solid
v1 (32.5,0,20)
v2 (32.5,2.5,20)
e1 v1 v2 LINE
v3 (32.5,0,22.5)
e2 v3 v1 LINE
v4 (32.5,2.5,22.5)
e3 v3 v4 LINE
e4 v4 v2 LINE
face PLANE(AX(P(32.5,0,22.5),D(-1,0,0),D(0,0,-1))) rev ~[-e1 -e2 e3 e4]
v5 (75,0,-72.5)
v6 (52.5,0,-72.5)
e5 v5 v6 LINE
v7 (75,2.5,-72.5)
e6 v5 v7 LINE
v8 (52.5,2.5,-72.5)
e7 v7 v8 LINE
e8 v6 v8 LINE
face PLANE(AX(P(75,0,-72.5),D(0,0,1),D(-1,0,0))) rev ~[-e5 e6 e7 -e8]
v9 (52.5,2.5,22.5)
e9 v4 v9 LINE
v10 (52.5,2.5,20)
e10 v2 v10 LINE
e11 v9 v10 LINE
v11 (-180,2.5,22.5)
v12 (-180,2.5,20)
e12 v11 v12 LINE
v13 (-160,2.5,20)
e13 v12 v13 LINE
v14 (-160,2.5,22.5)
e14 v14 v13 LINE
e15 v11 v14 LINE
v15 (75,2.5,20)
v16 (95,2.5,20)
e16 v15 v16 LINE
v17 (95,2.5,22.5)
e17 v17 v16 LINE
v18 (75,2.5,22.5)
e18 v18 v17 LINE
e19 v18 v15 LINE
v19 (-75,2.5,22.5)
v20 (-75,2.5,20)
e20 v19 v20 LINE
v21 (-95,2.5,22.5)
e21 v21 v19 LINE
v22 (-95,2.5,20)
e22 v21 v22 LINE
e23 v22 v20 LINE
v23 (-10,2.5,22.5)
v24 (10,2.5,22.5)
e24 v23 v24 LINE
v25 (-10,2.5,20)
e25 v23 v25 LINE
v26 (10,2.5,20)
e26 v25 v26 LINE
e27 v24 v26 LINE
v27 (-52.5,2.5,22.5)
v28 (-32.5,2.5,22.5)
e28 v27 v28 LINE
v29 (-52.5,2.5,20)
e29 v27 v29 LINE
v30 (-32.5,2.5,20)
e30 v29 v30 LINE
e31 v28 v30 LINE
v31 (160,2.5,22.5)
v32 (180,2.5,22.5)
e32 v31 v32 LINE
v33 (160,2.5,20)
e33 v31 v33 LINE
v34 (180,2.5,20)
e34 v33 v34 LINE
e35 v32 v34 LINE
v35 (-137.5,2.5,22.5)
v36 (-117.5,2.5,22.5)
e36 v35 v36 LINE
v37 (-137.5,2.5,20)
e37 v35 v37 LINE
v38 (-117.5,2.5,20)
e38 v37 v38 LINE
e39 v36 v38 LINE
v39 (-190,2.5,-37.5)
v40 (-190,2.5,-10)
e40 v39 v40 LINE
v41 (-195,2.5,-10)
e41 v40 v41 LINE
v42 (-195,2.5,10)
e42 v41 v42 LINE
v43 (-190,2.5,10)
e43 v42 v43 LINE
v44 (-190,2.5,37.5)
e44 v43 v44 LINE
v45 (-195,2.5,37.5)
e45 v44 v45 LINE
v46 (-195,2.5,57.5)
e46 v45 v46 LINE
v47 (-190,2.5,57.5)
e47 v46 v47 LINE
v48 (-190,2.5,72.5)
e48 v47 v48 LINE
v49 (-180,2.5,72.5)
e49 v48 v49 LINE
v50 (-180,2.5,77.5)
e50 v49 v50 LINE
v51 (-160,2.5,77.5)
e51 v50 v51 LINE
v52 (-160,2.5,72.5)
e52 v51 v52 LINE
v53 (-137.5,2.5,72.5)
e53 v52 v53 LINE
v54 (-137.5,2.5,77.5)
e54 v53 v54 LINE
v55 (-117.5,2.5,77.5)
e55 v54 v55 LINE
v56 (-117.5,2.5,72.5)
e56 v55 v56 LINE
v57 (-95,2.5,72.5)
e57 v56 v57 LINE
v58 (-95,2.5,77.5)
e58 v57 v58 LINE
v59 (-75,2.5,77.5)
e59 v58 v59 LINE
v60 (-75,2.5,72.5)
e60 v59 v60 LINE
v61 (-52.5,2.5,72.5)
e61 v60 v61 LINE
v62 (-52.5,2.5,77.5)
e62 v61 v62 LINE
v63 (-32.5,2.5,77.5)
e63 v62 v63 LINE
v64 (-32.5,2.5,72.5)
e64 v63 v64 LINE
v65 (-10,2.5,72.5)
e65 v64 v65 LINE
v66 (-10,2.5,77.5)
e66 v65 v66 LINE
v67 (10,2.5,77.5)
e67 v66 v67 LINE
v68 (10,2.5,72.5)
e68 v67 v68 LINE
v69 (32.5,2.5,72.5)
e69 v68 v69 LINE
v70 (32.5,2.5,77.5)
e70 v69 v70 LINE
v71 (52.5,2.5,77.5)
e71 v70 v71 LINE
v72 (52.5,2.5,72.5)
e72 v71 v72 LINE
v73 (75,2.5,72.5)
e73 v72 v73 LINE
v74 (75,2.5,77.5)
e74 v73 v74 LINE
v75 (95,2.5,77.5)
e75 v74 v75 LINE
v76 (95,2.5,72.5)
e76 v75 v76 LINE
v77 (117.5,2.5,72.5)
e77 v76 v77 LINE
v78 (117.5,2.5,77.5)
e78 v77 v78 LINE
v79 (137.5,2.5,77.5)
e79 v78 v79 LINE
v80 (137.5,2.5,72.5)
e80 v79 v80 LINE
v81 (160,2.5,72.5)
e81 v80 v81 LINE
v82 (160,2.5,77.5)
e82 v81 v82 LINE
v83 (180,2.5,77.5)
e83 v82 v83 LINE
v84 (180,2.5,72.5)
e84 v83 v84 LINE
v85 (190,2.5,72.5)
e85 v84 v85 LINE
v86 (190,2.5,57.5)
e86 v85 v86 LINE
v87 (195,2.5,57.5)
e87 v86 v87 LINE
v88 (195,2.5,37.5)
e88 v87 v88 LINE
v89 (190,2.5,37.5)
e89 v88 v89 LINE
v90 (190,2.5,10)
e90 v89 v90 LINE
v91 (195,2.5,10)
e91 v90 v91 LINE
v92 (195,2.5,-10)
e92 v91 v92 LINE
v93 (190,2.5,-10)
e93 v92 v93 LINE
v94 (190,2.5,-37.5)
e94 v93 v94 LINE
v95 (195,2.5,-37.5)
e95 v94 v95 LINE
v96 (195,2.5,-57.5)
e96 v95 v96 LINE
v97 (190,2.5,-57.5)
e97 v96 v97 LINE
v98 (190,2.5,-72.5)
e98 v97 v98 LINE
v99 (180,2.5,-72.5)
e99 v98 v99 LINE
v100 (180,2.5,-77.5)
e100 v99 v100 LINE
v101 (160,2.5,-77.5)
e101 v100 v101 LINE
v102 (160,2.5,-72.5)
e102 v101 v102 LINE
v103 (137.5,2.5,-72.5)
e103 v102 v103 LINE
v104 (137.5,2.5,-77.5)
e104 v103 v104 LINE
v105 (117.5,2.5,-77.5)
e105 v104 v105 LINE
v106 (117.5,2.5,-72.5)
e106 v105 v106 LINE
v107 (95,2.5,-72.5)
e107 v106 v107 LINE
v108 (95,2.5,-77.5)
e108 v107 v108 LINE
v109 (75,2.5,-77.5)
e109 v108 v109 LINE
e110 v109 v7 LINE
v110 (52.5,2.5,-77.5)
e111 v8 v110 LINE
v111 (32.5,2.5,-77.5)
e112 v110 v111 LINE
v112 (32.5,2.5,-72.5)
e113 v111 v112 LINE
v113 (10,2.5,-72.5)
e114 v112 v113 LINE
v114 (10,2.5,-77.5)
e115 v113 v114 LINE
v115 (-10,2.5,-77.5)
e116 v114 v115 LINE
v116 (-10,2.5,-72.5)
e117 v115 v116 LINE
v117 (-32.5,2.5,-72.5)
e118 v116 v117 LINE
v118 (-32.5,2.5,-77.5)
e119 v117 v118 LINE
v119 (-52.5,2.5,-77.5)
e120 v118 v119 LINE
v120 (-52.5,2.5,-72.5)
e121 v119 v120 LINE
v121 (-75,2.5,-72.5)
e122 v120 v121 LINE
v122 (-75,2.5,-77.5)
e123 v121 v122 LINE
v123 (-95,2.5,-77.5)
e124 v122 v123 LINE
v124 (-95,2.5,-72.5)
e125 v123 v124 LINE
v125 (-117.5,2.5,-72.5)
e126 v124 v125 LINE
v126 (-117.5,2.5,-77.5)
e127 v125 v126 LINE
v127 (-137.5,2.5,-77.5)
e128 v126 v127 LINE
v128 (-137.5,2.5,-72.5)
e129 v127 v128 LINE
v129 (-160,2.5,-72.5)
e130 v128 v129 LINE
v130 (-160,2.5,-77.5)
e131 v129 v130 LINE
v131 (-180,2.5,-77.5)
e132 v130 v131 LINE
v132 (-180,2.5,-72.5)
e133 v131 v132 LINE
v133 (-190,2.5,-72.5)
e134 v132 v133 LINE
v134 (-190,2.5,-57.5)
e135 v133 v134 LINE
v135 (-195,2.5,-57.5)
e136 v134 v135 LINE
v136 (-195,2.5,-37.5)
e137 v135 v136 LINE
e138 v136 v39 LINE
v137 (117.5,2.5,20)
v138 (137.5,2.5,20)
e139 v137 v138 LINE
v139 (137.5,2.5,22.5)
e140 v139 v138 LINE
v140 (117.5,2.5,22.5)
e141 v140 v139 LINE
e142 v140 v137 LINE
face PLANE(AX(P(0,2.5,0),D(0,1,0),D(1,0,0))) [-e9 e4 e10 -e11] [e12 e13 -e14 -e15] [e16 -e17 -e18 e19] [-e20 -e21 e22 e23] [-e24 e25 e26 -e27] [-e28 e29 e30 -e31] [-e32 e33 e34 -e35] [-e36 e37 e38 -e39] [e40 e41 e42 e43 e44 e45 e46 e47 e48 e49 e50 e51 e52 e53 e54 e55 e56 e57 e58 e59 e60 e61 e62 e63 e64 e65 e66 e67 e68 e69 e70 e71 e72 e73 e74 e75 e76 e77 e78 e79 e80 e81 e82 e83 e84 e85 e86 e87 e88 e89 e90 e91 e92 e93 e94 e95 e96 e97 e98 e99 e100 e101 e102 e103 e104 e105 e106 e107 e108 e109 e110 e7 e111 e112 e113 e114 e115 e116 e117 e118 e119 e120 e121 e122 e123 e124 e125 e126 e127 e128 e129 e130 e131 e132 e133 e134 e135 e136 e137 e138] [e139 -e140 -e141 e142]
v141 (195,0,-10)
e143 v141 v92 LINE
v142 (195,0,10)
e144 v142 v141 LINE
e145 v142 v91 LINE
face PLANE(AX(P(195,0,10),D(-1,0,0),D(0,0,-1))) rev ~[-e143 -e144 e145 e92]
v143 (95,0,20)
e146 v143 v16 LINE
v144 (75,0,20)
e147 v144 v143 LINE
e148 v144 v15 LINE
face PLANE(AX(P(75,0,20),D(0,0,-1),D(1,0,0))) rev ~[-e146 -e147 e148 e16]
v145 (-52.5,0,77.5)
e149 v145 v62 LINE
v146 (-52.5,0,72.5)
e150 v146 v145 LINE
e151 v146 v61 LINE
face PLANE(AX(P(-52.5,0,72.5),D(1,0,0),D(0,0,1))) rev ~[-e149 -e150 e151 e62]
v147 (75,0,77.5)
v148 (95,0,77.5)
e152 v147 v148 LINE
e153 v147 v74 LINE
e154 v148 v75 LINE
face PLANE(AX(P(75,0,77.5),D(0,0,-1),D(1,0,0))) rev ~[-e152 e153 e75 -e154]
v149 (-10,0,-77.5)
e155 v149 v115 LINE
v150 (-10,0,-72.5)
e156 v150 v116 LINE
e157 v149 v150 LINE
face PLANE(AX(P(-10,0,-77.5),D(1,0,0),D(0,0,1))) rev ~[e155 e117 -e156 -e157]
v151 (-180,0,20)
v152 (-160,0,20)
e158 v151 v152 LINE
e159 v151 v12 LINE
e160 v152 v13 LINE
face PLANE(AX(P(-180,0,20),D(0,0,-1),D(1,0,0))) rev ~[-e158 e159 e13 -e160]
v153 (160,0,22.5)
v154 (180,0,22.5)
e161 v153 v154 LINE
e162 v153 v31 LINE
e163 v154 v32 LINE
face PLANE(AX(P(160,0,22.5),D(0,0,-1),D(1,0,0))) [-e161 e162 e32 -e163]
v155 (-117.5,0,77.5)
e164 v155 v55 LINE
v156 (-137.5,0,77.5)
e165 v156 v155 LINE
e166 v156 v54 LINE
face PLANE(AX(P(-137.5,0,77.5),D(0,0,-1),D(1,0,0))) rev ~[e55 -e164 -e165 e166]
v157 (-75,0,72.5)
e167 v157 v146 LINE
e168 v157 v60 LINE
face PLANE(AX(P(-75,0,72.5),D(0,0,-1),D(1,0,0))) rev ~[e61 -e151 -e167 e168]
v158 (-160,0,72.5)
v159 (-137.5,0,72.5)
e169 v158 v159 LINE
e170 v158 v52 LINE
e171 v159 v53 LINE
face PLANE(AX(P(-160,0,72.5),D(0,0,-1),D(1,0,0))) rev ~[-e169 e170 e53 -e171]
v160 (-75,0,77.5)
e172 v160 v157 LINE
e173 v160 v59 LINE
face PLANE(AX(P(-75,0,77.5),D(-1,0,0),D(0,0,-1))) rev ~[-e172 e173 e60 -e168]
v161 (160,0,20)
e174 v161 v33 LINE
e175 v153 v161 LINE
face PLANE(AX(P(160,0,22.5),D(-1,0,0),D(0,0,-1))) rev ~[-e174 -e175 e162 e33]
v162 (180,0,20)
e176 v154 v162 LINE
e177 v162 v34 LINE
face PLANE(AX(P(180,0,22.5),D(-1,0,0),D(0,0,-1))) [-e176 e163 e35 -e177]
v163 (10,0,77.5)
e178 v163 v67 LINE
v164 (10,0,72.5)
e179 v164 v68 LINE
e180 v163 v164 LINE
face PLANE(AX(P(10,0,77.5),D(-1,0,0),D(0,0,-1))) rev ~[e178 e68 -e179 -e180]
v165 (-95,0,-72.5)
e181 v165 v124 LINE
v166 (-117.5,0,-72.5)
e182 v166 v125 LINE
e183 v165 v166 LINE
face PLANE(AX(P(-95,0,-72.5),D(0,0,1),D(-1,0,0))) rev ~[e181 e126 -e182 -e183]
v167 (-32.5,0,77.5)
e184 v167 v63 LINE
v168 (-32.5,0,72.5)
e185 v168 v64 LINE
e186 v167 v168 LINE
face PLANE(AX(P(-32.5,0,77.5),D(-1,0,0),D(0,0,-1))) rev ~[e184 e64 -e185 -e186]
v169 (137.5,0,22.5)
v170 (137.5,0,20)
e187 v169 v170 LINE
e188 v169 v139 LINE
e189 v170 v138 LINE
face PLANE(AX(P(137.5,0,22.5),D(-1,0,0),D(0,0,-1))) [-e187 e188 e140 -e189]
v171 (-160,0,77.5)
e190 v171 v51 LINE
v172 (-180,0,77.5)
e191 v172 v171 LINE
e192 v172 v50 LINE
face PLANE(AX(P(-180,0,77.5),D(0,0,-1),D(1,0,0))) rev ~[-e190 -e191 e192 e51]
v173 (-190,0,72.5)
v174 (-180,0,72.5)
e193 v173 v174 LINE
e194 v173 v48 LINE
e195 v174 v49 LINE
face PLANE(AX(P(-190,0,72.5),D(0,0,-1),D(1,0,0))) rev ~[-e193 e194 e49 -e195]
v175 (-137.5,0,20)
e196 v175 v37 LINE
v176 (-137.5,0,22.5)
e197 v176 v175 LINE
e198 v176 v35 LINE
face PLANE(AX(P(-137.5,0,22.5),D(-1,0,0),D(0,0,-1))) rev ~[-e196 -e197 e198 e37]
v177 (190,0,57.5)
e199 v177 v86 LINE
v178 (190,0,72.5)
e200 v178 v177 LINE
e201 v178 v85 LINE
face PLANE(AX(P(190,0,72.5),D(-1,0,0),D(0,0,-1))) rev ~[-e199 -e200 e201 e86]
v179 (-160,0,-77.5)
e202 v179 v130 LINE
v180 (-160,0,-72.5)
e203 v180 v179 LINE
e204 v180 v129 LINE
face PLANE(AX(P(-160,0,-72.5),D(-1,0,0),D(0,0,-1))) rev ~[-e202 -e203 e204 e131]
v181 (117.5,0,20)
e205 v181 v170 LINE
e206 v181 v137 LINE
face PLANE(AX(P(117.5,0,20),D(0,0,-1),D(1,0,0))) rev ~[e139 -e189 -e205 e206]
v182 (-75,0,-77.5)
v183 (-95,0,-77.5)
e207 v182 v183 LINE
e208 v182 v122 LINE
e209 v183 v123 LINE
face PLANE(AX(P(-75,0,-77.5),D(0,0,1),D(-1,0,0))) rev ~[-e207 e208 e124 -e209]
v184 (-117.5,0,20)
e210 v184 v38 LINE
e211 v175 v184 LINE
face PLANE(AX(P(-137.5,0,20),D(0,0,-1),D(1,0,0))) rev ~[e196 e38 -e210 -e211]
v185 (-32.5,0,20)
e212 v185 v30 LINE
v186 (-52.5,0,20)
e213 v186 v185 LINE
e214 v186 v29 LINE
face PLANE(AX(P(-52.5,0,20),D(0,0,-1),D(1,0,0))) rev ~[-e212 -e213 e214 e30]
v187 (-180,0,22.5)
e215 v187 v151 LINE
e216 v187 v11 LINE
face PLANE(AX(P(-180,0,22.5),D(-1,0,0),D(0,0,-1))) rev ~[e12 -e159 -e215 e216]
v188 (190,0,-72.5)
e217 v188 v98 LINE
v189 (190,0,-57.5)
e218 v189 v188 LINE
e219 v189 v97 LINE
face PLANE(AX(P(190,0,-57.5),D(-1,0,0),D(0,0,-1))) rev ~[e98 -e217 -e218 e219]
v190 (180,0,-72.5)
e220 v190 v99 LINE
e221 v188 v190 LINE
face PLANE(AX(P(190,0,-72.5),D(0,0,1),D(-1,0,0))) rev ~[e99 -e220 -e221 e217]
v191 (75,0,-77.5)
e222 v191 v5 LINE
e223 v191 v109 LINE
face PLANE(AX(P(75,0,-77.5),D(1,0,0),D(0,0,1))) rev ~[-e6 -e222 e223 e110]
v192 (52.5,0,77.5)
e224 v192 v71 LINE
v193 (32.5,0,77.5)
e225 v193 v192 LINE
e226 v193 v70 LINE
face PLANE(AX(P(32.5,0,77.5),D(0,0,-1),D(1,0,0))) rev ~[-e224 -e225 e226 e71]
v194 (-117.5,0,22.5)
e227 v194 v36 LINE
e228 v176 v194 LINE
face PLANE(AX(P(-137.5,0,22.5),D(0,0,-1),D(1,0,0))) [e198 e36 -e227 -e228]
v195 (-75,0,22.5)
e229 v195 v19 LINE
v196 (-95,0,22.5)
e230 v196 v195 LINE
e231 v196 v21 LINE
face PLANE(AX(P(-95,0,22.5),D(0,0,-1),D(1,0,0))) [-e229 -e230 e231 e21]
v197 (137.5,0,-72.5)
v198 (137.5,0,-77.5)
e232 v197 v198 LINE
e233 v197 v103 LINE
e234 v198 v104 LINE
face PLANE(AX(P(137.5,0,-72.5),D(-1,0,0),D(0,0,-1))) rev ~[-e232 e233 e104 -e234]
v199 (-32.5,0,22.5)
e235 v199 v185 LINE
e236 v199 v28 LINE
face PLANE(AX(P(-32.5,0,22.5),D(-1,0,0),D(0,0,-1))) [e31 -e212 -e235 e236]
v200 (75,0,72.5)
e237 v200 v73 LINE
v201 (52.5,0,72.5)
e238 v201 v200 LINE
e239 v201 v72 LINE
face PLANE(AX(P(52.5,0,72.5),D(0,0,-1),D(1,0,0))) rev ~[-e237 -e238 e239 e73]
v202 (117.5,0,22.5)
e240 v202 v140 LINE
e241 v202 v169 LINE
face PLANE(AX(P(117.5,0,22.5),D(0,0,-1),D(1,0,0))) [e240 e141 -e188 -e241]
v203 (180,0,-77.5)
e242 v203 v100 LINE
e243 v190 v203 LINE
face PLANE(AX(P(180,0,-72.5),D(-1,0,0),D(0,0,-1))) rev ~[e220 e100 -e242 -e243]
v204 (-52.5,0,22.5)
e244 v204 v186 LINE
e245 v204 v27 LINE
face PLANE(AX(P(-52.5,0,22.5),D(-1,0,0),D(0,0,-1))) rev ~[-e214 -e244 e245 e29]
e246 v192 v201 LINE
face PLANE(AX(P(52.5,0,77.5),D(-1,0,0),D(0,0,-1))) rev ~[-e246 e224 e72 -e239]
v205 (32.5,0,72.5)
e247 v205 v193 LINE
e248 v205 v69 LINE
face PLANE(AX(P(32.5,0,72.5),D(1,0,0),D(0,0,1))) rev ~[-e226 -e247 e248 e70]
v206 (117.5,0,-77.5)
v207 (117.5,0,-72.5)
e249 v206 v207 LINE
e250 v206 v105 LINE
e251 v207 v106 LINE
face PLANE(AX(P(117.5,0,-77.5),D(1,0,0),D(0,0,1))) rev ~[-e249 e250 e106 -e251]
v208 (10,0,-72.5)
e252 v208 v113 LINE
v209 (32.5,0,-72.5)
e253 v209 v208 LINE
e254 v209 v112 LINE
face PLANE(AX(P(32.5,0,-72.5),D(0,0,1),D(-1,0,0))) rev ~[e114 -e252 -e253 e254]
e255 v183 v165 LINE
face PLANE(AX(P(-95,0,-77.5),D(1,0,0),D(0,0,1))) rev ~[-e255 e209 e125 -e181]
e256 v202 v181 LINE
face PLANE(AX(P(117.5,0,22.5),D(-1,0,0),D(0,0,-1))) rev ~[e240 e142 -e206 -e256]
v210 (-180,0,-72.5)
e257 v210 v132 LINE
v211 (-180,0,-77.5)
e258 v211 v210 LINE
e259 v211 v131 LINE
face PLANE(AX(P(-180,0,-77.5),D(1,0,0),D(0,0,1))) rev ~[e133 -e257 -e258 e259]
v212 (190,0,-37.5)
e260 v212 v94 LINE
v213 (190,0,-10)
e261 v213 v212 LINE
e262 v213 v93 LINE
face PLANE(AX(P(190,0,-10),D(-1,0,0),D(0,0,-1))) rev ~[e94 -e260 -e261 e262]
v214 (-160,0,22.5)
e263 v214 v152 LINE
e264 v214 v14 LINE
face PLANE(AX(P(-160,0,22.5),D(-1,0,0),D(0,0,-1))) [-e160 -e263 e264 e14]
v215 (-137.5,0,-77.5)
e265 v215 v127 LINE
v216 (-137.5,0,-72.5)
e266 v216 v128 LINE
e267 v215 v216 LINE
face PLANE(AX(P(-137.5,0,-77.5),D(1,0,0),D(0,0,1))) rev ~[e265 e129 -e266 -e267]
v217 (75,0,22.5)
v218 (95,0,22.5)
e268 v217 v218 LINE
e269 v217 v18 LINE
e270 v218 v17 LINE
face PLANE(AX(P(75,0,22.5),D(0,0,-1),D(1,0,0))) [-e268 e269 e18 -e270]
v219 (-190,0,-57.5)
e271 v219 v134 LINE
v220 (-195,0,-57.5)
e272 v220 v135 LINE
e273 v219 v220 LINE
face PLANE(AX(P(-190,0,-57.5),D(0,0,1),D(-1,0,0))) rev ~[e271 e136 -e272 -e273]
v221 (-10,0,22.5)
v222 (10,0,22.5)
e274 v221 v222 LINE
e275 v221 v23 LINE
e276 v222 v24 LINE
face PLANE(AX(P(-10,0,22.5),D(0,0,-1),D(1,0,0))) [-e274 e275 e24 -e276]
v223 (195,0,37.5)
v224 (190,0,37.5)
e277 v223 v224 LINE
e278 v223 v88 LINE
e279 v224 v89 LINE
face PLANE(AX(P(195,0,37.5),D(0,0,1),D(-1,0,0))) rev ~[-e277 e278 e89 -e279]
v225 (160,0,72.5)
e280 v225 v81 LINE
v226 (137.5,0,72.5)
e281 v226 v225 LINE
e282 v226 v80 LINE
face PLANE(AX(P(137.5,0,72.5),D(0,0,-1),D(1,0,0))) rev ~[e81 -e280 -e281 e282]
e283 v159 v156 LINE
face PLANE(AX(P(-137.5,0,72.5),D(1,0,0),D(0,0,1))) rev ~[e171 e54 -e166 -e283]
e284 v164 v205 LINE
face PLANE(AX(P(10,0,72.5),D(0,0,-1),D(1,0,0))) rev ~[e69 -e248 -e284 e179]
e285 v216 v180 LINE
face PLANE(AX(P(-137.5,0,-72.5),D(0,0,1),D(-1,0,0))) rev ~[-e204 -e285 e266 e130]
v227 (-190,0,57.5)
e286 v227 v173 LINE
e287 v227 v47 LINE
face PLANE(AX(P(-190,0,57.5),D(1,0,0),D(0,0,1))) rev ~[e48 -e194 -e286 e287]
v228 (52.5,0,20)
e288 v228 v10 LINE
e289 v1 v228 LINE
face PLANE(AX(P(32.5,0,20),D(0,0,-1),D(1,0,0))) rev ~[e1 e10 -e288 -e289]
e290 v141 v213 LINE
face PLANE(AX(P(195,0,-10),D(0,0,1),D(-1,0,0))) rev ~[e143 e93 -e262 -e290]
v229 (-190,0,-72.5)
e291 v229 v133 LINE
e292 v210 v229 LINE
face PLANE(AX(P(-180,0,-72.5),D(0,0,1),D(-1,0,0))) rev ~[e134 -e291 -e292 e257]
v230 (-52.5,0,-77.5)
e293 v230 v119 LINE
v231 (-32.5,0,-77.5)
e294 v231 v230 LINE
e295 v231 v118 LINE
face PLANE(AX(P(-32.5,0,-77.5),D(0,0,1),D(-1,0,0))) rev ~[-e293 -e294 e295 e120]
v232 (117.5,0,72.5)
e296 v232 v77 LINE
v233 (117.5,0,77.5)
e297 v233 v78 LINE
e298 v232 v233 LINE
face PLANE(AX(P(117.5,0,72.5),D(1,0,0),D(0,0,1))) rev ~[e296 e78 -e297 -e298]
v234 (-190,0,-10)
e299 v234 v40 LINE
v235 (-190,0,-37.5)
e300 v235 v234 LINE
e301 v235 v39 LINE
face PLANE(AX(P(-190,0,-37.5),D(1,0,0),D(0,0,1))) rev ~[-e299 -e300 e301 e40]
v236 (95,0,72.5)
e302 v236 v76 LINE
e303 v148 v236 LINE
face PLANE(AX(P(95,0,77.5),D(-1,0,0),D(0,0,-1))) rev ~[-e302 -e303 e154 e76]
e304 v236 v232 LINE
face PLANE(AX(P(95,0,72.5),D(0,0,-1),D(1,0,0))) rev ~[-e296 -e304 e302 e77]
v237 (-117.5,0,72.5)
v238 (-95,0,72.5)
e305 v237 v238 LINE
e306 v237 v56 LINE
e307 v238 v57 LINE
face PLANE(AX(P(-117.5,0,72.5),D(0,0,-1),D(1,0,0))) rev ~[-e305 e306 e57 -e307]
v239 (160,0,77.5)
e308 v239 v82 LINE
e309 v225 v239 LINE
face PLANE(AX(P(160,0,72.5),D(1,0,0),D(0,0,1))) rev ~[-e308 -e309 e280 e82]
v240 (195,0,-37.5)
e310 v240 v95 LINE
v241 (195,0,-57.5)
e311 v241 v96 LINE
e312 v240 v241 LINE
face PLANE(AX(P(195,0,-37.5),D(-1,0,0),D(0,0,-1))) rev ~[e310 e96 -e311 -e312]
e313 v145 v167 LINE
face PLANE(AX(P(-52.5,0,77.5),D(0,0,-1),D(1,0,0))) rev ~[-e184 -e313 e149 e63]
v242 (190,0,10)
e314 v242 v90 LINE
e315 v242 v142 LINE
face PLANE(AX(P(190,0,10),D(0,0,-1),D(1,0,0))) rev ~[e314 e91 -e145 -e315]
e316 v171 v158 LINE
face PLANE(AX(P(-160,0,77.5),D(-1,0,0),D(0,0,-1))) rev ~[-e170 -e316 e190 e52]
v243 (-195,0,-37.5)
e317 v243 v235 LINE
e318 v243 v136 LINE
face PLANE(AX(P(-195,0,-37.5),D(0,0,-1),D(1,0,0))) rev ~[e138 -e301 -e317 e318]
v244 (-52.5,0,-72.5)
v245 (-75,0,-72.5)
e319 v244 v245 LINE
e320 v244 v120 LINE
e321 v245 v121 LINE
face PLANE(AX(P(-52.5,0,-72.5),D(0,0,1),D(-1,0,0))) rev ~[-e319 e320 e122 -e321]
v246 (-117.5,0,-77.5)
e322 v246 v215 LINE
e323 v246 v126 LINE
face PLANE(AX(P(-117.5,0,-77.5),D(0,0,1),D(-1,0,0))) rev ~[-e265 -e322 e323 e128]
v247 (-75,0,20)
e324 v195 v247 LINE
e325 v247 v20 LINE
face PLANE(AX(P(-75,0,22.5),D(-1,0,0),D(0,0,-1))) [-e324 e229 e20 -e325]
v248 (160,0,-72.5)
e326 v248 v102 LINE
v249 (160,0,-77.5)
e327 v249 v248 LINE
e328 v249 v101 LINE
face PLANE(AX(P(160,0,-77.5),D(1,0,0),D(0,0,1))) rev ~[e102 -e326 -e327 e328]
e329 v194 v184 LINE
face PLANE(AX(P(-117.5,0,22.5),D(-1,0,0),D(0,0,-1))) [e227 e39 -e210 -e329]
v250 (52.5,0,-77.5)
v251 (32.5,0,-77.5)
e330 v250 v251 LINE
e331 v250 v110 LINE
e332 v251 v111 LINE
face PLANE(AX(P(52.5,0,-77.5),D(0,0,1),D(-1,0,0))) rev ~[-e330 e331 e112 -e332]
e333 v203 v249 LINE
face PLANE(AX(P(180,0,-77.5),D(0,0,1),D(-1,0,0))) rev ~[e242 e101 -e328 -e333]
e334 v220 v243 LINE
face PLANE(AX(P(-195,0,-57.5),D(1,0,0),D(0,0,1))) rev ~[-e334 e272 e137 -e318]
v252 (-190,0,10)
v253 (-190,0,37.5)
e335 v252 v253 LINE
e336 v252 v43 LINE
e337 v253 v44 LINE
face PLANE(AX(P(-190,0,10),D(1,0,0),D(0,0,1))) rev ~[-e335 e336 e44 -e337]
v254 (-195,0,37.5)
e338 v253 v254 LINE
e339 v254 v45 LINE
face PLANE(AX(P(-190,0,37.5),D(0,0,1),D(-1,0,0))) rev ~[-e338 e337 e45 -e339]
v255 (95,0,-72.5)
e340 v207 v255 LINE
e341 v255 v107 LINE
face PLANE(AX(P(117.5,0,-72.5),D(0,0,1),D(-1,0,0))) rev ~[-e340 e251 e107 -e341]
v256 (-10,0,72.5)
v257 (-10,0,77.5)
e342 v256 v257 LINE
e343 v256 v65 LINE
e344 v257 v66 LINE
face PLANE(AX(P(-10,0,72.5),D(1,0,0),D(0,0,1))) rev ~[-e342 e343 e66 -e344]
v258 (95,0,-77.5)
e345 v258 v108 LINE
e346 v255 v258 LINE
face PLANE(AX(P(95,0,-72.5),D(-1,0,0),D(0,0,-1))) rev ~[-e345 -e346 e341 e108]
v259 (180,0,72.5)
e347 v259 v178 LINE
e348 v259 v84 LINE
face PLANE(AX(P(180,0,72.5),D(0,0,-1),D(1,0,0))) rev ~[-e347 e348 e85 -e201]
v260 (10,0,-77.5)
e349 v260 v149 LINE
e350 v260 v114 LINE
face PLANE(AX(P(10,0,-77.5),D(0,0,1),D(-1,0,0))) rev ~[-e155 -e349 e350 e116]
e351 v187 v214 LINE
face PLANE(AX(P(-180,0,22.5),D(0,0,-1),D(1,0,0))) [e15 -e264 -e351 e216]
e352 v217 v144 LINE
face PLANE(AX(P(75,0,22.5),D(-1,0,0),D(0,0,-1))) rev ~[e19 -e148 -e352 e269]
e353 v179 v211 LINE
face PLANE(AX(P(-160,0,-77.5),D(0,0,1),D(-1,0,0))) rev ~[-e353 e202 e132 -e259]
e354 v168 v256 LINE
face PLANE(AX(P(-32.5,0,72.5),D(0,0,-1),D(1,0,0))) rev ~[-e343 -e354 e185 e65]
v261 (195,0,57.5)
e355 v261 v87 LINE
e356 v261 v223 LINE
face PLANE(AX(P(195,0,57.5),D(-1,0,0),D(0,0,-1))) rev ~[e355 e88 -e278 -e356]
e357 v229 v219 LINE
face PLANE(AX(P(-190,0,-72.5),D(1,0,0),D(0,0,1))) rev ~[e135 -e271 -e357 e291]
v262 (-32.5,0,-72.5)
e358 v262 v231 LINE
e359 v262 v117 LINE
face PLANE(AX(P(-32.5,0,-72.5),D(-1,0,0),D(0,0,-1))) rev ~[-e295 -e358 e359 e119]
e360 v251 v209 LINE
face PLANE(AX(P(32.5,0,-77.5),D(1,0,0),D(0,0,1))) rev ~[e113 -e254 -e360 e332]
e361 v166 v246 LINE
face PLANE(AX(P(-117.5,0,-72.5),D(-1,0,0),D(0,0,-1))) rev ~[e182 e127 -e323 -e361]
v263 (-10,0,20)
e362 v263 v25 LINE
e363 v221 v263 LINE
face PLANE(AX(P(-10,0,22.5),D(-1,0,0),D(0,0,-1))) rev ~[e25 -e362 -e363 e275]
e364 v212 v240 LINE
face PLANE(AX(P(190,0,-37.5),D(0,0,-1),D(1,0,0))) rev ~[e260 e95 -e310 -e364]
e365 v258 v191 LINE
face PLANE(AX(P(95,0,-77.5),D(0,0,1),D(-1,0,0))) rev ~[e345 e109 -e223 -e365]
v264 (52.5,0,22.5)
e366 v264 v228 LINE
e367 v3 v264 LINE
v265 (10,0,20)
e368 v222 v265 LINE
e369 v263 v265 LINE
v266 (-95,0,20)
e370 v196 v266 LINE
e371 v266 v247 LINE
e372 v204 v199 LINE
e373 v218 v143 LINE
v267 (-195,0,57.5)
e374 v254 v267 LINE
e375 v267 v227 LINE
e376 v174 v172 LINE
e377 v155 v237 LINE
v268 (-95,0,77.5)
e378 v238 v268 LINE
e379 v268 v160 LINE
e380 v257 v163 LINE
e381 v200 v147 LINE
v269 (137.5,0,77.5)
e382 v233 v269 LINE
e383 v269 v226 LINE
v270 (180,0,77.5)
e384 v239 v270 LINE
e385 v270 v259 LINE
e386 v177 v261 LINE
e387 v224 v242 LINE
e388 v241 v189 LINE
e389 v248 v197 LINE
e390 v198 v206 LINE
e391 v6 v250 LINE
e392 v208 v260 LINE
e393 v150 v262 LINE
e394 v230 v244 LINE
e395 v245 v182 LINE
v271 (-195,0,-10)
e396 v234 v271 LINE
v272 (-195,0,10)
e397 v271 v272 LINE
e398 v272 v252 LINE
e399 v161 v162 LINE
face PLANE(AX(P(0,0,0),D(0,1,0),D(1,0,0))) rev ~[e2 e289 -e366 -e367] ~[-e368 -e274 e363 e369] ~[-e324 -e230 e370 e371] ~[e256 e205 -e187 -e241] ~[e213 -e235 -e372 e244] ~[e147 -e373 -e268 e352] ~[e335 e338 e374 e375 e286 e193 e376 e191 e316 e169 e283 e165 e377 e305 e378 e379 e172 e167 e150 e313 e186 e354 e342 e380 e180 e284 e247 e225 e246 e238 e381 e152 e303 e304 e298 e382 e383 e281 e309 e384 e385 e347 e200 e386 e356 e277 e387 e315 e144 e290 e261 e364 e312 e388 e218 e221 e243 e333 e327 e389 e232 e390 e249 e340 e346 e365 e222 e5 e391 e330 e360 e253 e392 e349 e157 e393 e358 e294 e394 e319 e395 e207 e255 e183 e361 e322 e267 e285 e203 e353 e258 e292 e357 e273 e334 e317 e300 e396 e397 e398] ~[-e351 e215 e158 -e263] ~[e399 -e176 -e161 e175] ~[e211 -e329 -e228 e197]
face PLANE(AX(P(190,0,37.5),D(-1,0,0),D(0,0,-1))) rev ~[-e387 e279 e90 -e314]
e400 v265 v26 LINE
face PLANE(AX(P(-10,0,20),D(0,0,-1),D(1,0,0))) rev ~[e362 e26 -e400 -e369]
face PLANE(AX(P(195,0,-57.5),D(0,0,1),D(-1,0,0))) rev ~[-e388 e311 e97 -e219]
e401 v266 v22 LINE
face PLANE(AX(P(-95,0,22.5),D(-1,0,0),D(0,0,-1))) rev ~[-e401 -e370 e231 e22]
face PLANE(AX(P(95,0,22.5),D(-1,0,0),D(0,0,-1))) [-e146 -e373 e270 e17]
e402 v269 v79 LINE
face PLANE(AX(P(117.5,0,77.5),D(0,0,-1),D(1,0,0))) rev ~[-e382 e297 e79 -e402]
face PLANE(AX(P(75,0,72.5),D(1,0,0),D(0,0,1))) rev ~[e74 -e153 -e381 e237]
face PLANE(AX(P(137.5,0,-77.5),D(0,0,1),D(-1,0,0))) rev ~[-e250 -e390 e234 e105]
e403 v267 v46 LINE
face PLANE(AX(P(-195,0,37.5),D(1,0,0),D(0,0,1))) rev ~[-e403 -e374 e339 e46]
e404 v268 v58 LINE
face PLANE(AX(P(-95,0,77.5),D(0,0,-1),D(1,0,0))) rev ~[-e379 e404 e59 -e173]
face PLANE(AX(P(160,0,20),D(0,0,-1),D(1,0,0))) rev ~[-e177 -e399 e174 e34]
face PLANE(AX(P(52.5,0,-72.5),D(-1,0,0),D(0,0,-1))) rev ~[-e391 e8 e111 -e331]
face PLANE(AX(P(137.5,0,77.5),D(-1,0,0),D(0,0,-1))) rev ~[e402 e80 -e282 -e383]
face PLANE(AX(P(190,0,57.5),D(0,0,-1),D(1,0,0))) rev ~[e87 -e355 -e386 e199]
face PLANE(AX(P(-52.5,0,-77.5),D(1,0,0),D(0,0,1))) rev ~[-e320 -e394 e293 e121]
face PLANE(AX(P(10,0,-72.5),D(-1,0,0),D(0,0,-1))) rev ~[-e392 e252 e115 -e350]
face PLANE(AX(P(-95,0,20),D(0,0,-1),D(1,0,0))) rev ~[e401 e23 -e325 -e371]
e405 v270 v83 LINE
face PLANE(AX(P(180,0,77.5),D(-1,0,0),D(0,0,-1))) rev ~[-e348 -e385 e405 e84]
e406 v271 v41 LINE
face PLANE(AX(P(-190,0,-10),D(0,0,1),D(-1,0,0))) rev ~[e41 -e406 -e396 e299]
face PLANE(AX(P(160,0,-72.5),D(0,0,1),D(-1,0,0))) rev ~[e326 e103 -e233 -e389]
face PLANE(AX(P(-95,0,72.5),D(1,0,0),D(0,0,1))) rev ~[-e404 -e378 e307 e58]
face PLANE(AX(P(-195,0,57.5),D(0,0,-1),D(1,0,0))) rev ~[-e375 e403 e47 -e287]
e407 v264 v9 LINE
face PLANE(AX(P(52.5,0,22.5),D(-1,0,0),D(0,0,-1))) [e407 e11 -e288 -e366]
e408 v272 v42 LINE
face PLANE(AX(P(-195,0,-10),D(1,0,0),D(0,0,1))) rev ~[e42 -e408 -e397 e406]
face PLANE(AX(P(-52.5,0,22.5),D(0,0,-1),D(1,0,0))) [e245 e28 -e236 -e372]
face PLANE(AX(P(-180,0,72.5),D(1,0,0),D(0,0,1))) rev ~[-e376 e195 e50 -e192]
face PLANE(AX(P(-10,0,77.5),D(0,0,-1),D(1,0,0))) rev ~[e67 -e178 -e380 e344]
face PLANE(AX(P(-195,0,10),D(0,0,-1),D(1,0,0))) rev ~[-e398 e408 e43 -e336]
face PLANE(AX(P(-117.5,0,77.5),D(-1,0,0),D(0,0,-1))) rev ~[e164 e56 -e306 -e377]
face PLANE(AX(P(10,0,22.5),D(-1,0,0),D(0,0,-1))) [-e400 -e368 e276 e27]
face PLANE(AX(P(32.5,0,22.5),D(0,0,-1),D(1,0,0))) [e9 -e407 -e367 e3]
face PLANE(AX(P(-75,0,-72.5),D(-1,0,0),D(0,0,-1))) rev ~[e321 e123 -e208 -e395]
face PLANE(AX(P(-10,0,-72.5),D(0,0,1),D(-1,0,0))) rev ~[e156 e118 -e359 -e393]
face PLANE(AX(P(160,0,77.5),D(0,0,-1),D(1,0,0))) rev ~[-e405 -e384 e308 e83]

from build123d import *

# Parameters (mm, degrees)
SKETCH1_2_W         = 20
SKETCH1_2_H         = 2.5
BOSS_EXTRUDE2_DEPTH = 2.5


with BuildPart() as part:
    # Sketch1<2> → Boss-Extrude2 (new body)
    with BuildSketch(Plane(origin=(0, 0, 0), x_dir=(1, 0, 0), z_dir=(0, 1, 0))):
        Polygon((-190, -72.5), (-180, -72.5), (-180, -77.5), (-160, -77.5), (-160, -72.5), (-137.5, -72.5), (-137.5, -77.5), (-117.5, -77.5), (-117.5, -72.5), (-95, -72.5), (-95, -77.5), (-75, -77.5), (-75, -72.5), (-52.5, -72.5), (-52.5, -77.5), (-32.5, -77.5), (-32.5, -72.5), (-10, -72.5), (-10, -77.5), (10, -77.5), (10, -72.5), (32.5, -72.5), (32.5, -77.5), (52.5, -77.5), (52.5, -72.5), (75, -72.5), (75, -77.5), (95, -77.5), (95, -72.5), (117.5, -72.5), (117.5, -77.5), (137.5, -77.5), (137.5, -72.5), (160, -72.5), (160, -77.5), (180, -77.5), (180, -72.5), (190, -72.5), (190, -57.5), (195, -57.5), (195, -37.5), (190, -37.5), (190, -10), (195, -10), (195, 10), (190, 10), (190, 37.5), (195, 37.5), (195, 57.5), (190, 57.5), (190, 72.5), (180, 72.5), (180, 77.5), (160, 77.5), (160, 72.5), (137.5, 72.5), (137.5, 77.5), (117.5, 77.5), (117.5, 72.5), (95, 72.5), (95, 77.5), (75, 77.5), (75, 72.5), (52.5, 72.5), (52.5, 77.5), (32.5, 77.5), (32.5, 72.5), (10, 72.5), (10, 77.5), (-10, 77.5), (-10, 72.5), (-32.5, 72.5), (-32.5, 77.5), (-52.5, 77.5), (-52.5, 72.5), (-75, 72.5), (-75, 77.5), (-95, 77.5), (-95, 72.5), (-117.5, 72.5), (-117.5, 77.5), (-137.5, 77.5), (-137.5, 72.5), (-160, 72.5), (-160, 77.5), (-180, 77.5), (-180, 72.5), (-190, 72.5), (-190, 57.5), (-195, 57.5), (-195, 37.5), (-190, 37.5), (-190, 10), (-195, 10), (-195, -10), (-190, -10), (-190, -37.5), (-195, -37.5), (-195, -57.5), (-190, -57.5), align=None)
        with Locations((-170, -21.25)):
            Rectangle(SKETCH1_2_W, SKETCH1_2_H, mode=Mode.SUBTRACT)
        with Locations((-127.5, -21.25)):
            Rectangle(SKETCH1_2_W, SKETCH1_2_H, mode=Mode.SUBTRACT)
        with Locations((-85, -21.25)):
            Rectangle(SKETCH1_2_W, SKETCH1_2_H, mode=Mode.SUBTRACT)
        with Locations((-42.5, -21.25)):
            Rectangle(SKETCH1_2_W, SKETCH1_2_H, mode=Mode.SUBTRACT)
        with Locations((0, -21.25)):
            Rectangle(SKETCH1_2_W, SKETCH1_2_H, mode=Mode.SUBTRACT)
        with Locations((42.5, -21.25)):
            Rectangle(SKETCH1_2_W, SKETCH1_2_H, mode=Mode.SUBTRACT)
        with Locations((85, -21.25)):
            Rectangle(SKETCH1_2_W, SKETCH1_2_H, mode=Mode.SUBTRACT)
        with Locations((127.5, -21.25)):
            Rectangle(SKETCH1_2_W, SKETCH1_2_H, mode=Mode.SUBTRACT)
        with Locations((170, -21.25)):
            Rectangle(SKETCH1_2_W, SKETCH1_2_H, mode=Mode.SUBTRACT)
    extrude(amount=BOSS_EXTRUDE2_DEPTH)


solid = part.part
